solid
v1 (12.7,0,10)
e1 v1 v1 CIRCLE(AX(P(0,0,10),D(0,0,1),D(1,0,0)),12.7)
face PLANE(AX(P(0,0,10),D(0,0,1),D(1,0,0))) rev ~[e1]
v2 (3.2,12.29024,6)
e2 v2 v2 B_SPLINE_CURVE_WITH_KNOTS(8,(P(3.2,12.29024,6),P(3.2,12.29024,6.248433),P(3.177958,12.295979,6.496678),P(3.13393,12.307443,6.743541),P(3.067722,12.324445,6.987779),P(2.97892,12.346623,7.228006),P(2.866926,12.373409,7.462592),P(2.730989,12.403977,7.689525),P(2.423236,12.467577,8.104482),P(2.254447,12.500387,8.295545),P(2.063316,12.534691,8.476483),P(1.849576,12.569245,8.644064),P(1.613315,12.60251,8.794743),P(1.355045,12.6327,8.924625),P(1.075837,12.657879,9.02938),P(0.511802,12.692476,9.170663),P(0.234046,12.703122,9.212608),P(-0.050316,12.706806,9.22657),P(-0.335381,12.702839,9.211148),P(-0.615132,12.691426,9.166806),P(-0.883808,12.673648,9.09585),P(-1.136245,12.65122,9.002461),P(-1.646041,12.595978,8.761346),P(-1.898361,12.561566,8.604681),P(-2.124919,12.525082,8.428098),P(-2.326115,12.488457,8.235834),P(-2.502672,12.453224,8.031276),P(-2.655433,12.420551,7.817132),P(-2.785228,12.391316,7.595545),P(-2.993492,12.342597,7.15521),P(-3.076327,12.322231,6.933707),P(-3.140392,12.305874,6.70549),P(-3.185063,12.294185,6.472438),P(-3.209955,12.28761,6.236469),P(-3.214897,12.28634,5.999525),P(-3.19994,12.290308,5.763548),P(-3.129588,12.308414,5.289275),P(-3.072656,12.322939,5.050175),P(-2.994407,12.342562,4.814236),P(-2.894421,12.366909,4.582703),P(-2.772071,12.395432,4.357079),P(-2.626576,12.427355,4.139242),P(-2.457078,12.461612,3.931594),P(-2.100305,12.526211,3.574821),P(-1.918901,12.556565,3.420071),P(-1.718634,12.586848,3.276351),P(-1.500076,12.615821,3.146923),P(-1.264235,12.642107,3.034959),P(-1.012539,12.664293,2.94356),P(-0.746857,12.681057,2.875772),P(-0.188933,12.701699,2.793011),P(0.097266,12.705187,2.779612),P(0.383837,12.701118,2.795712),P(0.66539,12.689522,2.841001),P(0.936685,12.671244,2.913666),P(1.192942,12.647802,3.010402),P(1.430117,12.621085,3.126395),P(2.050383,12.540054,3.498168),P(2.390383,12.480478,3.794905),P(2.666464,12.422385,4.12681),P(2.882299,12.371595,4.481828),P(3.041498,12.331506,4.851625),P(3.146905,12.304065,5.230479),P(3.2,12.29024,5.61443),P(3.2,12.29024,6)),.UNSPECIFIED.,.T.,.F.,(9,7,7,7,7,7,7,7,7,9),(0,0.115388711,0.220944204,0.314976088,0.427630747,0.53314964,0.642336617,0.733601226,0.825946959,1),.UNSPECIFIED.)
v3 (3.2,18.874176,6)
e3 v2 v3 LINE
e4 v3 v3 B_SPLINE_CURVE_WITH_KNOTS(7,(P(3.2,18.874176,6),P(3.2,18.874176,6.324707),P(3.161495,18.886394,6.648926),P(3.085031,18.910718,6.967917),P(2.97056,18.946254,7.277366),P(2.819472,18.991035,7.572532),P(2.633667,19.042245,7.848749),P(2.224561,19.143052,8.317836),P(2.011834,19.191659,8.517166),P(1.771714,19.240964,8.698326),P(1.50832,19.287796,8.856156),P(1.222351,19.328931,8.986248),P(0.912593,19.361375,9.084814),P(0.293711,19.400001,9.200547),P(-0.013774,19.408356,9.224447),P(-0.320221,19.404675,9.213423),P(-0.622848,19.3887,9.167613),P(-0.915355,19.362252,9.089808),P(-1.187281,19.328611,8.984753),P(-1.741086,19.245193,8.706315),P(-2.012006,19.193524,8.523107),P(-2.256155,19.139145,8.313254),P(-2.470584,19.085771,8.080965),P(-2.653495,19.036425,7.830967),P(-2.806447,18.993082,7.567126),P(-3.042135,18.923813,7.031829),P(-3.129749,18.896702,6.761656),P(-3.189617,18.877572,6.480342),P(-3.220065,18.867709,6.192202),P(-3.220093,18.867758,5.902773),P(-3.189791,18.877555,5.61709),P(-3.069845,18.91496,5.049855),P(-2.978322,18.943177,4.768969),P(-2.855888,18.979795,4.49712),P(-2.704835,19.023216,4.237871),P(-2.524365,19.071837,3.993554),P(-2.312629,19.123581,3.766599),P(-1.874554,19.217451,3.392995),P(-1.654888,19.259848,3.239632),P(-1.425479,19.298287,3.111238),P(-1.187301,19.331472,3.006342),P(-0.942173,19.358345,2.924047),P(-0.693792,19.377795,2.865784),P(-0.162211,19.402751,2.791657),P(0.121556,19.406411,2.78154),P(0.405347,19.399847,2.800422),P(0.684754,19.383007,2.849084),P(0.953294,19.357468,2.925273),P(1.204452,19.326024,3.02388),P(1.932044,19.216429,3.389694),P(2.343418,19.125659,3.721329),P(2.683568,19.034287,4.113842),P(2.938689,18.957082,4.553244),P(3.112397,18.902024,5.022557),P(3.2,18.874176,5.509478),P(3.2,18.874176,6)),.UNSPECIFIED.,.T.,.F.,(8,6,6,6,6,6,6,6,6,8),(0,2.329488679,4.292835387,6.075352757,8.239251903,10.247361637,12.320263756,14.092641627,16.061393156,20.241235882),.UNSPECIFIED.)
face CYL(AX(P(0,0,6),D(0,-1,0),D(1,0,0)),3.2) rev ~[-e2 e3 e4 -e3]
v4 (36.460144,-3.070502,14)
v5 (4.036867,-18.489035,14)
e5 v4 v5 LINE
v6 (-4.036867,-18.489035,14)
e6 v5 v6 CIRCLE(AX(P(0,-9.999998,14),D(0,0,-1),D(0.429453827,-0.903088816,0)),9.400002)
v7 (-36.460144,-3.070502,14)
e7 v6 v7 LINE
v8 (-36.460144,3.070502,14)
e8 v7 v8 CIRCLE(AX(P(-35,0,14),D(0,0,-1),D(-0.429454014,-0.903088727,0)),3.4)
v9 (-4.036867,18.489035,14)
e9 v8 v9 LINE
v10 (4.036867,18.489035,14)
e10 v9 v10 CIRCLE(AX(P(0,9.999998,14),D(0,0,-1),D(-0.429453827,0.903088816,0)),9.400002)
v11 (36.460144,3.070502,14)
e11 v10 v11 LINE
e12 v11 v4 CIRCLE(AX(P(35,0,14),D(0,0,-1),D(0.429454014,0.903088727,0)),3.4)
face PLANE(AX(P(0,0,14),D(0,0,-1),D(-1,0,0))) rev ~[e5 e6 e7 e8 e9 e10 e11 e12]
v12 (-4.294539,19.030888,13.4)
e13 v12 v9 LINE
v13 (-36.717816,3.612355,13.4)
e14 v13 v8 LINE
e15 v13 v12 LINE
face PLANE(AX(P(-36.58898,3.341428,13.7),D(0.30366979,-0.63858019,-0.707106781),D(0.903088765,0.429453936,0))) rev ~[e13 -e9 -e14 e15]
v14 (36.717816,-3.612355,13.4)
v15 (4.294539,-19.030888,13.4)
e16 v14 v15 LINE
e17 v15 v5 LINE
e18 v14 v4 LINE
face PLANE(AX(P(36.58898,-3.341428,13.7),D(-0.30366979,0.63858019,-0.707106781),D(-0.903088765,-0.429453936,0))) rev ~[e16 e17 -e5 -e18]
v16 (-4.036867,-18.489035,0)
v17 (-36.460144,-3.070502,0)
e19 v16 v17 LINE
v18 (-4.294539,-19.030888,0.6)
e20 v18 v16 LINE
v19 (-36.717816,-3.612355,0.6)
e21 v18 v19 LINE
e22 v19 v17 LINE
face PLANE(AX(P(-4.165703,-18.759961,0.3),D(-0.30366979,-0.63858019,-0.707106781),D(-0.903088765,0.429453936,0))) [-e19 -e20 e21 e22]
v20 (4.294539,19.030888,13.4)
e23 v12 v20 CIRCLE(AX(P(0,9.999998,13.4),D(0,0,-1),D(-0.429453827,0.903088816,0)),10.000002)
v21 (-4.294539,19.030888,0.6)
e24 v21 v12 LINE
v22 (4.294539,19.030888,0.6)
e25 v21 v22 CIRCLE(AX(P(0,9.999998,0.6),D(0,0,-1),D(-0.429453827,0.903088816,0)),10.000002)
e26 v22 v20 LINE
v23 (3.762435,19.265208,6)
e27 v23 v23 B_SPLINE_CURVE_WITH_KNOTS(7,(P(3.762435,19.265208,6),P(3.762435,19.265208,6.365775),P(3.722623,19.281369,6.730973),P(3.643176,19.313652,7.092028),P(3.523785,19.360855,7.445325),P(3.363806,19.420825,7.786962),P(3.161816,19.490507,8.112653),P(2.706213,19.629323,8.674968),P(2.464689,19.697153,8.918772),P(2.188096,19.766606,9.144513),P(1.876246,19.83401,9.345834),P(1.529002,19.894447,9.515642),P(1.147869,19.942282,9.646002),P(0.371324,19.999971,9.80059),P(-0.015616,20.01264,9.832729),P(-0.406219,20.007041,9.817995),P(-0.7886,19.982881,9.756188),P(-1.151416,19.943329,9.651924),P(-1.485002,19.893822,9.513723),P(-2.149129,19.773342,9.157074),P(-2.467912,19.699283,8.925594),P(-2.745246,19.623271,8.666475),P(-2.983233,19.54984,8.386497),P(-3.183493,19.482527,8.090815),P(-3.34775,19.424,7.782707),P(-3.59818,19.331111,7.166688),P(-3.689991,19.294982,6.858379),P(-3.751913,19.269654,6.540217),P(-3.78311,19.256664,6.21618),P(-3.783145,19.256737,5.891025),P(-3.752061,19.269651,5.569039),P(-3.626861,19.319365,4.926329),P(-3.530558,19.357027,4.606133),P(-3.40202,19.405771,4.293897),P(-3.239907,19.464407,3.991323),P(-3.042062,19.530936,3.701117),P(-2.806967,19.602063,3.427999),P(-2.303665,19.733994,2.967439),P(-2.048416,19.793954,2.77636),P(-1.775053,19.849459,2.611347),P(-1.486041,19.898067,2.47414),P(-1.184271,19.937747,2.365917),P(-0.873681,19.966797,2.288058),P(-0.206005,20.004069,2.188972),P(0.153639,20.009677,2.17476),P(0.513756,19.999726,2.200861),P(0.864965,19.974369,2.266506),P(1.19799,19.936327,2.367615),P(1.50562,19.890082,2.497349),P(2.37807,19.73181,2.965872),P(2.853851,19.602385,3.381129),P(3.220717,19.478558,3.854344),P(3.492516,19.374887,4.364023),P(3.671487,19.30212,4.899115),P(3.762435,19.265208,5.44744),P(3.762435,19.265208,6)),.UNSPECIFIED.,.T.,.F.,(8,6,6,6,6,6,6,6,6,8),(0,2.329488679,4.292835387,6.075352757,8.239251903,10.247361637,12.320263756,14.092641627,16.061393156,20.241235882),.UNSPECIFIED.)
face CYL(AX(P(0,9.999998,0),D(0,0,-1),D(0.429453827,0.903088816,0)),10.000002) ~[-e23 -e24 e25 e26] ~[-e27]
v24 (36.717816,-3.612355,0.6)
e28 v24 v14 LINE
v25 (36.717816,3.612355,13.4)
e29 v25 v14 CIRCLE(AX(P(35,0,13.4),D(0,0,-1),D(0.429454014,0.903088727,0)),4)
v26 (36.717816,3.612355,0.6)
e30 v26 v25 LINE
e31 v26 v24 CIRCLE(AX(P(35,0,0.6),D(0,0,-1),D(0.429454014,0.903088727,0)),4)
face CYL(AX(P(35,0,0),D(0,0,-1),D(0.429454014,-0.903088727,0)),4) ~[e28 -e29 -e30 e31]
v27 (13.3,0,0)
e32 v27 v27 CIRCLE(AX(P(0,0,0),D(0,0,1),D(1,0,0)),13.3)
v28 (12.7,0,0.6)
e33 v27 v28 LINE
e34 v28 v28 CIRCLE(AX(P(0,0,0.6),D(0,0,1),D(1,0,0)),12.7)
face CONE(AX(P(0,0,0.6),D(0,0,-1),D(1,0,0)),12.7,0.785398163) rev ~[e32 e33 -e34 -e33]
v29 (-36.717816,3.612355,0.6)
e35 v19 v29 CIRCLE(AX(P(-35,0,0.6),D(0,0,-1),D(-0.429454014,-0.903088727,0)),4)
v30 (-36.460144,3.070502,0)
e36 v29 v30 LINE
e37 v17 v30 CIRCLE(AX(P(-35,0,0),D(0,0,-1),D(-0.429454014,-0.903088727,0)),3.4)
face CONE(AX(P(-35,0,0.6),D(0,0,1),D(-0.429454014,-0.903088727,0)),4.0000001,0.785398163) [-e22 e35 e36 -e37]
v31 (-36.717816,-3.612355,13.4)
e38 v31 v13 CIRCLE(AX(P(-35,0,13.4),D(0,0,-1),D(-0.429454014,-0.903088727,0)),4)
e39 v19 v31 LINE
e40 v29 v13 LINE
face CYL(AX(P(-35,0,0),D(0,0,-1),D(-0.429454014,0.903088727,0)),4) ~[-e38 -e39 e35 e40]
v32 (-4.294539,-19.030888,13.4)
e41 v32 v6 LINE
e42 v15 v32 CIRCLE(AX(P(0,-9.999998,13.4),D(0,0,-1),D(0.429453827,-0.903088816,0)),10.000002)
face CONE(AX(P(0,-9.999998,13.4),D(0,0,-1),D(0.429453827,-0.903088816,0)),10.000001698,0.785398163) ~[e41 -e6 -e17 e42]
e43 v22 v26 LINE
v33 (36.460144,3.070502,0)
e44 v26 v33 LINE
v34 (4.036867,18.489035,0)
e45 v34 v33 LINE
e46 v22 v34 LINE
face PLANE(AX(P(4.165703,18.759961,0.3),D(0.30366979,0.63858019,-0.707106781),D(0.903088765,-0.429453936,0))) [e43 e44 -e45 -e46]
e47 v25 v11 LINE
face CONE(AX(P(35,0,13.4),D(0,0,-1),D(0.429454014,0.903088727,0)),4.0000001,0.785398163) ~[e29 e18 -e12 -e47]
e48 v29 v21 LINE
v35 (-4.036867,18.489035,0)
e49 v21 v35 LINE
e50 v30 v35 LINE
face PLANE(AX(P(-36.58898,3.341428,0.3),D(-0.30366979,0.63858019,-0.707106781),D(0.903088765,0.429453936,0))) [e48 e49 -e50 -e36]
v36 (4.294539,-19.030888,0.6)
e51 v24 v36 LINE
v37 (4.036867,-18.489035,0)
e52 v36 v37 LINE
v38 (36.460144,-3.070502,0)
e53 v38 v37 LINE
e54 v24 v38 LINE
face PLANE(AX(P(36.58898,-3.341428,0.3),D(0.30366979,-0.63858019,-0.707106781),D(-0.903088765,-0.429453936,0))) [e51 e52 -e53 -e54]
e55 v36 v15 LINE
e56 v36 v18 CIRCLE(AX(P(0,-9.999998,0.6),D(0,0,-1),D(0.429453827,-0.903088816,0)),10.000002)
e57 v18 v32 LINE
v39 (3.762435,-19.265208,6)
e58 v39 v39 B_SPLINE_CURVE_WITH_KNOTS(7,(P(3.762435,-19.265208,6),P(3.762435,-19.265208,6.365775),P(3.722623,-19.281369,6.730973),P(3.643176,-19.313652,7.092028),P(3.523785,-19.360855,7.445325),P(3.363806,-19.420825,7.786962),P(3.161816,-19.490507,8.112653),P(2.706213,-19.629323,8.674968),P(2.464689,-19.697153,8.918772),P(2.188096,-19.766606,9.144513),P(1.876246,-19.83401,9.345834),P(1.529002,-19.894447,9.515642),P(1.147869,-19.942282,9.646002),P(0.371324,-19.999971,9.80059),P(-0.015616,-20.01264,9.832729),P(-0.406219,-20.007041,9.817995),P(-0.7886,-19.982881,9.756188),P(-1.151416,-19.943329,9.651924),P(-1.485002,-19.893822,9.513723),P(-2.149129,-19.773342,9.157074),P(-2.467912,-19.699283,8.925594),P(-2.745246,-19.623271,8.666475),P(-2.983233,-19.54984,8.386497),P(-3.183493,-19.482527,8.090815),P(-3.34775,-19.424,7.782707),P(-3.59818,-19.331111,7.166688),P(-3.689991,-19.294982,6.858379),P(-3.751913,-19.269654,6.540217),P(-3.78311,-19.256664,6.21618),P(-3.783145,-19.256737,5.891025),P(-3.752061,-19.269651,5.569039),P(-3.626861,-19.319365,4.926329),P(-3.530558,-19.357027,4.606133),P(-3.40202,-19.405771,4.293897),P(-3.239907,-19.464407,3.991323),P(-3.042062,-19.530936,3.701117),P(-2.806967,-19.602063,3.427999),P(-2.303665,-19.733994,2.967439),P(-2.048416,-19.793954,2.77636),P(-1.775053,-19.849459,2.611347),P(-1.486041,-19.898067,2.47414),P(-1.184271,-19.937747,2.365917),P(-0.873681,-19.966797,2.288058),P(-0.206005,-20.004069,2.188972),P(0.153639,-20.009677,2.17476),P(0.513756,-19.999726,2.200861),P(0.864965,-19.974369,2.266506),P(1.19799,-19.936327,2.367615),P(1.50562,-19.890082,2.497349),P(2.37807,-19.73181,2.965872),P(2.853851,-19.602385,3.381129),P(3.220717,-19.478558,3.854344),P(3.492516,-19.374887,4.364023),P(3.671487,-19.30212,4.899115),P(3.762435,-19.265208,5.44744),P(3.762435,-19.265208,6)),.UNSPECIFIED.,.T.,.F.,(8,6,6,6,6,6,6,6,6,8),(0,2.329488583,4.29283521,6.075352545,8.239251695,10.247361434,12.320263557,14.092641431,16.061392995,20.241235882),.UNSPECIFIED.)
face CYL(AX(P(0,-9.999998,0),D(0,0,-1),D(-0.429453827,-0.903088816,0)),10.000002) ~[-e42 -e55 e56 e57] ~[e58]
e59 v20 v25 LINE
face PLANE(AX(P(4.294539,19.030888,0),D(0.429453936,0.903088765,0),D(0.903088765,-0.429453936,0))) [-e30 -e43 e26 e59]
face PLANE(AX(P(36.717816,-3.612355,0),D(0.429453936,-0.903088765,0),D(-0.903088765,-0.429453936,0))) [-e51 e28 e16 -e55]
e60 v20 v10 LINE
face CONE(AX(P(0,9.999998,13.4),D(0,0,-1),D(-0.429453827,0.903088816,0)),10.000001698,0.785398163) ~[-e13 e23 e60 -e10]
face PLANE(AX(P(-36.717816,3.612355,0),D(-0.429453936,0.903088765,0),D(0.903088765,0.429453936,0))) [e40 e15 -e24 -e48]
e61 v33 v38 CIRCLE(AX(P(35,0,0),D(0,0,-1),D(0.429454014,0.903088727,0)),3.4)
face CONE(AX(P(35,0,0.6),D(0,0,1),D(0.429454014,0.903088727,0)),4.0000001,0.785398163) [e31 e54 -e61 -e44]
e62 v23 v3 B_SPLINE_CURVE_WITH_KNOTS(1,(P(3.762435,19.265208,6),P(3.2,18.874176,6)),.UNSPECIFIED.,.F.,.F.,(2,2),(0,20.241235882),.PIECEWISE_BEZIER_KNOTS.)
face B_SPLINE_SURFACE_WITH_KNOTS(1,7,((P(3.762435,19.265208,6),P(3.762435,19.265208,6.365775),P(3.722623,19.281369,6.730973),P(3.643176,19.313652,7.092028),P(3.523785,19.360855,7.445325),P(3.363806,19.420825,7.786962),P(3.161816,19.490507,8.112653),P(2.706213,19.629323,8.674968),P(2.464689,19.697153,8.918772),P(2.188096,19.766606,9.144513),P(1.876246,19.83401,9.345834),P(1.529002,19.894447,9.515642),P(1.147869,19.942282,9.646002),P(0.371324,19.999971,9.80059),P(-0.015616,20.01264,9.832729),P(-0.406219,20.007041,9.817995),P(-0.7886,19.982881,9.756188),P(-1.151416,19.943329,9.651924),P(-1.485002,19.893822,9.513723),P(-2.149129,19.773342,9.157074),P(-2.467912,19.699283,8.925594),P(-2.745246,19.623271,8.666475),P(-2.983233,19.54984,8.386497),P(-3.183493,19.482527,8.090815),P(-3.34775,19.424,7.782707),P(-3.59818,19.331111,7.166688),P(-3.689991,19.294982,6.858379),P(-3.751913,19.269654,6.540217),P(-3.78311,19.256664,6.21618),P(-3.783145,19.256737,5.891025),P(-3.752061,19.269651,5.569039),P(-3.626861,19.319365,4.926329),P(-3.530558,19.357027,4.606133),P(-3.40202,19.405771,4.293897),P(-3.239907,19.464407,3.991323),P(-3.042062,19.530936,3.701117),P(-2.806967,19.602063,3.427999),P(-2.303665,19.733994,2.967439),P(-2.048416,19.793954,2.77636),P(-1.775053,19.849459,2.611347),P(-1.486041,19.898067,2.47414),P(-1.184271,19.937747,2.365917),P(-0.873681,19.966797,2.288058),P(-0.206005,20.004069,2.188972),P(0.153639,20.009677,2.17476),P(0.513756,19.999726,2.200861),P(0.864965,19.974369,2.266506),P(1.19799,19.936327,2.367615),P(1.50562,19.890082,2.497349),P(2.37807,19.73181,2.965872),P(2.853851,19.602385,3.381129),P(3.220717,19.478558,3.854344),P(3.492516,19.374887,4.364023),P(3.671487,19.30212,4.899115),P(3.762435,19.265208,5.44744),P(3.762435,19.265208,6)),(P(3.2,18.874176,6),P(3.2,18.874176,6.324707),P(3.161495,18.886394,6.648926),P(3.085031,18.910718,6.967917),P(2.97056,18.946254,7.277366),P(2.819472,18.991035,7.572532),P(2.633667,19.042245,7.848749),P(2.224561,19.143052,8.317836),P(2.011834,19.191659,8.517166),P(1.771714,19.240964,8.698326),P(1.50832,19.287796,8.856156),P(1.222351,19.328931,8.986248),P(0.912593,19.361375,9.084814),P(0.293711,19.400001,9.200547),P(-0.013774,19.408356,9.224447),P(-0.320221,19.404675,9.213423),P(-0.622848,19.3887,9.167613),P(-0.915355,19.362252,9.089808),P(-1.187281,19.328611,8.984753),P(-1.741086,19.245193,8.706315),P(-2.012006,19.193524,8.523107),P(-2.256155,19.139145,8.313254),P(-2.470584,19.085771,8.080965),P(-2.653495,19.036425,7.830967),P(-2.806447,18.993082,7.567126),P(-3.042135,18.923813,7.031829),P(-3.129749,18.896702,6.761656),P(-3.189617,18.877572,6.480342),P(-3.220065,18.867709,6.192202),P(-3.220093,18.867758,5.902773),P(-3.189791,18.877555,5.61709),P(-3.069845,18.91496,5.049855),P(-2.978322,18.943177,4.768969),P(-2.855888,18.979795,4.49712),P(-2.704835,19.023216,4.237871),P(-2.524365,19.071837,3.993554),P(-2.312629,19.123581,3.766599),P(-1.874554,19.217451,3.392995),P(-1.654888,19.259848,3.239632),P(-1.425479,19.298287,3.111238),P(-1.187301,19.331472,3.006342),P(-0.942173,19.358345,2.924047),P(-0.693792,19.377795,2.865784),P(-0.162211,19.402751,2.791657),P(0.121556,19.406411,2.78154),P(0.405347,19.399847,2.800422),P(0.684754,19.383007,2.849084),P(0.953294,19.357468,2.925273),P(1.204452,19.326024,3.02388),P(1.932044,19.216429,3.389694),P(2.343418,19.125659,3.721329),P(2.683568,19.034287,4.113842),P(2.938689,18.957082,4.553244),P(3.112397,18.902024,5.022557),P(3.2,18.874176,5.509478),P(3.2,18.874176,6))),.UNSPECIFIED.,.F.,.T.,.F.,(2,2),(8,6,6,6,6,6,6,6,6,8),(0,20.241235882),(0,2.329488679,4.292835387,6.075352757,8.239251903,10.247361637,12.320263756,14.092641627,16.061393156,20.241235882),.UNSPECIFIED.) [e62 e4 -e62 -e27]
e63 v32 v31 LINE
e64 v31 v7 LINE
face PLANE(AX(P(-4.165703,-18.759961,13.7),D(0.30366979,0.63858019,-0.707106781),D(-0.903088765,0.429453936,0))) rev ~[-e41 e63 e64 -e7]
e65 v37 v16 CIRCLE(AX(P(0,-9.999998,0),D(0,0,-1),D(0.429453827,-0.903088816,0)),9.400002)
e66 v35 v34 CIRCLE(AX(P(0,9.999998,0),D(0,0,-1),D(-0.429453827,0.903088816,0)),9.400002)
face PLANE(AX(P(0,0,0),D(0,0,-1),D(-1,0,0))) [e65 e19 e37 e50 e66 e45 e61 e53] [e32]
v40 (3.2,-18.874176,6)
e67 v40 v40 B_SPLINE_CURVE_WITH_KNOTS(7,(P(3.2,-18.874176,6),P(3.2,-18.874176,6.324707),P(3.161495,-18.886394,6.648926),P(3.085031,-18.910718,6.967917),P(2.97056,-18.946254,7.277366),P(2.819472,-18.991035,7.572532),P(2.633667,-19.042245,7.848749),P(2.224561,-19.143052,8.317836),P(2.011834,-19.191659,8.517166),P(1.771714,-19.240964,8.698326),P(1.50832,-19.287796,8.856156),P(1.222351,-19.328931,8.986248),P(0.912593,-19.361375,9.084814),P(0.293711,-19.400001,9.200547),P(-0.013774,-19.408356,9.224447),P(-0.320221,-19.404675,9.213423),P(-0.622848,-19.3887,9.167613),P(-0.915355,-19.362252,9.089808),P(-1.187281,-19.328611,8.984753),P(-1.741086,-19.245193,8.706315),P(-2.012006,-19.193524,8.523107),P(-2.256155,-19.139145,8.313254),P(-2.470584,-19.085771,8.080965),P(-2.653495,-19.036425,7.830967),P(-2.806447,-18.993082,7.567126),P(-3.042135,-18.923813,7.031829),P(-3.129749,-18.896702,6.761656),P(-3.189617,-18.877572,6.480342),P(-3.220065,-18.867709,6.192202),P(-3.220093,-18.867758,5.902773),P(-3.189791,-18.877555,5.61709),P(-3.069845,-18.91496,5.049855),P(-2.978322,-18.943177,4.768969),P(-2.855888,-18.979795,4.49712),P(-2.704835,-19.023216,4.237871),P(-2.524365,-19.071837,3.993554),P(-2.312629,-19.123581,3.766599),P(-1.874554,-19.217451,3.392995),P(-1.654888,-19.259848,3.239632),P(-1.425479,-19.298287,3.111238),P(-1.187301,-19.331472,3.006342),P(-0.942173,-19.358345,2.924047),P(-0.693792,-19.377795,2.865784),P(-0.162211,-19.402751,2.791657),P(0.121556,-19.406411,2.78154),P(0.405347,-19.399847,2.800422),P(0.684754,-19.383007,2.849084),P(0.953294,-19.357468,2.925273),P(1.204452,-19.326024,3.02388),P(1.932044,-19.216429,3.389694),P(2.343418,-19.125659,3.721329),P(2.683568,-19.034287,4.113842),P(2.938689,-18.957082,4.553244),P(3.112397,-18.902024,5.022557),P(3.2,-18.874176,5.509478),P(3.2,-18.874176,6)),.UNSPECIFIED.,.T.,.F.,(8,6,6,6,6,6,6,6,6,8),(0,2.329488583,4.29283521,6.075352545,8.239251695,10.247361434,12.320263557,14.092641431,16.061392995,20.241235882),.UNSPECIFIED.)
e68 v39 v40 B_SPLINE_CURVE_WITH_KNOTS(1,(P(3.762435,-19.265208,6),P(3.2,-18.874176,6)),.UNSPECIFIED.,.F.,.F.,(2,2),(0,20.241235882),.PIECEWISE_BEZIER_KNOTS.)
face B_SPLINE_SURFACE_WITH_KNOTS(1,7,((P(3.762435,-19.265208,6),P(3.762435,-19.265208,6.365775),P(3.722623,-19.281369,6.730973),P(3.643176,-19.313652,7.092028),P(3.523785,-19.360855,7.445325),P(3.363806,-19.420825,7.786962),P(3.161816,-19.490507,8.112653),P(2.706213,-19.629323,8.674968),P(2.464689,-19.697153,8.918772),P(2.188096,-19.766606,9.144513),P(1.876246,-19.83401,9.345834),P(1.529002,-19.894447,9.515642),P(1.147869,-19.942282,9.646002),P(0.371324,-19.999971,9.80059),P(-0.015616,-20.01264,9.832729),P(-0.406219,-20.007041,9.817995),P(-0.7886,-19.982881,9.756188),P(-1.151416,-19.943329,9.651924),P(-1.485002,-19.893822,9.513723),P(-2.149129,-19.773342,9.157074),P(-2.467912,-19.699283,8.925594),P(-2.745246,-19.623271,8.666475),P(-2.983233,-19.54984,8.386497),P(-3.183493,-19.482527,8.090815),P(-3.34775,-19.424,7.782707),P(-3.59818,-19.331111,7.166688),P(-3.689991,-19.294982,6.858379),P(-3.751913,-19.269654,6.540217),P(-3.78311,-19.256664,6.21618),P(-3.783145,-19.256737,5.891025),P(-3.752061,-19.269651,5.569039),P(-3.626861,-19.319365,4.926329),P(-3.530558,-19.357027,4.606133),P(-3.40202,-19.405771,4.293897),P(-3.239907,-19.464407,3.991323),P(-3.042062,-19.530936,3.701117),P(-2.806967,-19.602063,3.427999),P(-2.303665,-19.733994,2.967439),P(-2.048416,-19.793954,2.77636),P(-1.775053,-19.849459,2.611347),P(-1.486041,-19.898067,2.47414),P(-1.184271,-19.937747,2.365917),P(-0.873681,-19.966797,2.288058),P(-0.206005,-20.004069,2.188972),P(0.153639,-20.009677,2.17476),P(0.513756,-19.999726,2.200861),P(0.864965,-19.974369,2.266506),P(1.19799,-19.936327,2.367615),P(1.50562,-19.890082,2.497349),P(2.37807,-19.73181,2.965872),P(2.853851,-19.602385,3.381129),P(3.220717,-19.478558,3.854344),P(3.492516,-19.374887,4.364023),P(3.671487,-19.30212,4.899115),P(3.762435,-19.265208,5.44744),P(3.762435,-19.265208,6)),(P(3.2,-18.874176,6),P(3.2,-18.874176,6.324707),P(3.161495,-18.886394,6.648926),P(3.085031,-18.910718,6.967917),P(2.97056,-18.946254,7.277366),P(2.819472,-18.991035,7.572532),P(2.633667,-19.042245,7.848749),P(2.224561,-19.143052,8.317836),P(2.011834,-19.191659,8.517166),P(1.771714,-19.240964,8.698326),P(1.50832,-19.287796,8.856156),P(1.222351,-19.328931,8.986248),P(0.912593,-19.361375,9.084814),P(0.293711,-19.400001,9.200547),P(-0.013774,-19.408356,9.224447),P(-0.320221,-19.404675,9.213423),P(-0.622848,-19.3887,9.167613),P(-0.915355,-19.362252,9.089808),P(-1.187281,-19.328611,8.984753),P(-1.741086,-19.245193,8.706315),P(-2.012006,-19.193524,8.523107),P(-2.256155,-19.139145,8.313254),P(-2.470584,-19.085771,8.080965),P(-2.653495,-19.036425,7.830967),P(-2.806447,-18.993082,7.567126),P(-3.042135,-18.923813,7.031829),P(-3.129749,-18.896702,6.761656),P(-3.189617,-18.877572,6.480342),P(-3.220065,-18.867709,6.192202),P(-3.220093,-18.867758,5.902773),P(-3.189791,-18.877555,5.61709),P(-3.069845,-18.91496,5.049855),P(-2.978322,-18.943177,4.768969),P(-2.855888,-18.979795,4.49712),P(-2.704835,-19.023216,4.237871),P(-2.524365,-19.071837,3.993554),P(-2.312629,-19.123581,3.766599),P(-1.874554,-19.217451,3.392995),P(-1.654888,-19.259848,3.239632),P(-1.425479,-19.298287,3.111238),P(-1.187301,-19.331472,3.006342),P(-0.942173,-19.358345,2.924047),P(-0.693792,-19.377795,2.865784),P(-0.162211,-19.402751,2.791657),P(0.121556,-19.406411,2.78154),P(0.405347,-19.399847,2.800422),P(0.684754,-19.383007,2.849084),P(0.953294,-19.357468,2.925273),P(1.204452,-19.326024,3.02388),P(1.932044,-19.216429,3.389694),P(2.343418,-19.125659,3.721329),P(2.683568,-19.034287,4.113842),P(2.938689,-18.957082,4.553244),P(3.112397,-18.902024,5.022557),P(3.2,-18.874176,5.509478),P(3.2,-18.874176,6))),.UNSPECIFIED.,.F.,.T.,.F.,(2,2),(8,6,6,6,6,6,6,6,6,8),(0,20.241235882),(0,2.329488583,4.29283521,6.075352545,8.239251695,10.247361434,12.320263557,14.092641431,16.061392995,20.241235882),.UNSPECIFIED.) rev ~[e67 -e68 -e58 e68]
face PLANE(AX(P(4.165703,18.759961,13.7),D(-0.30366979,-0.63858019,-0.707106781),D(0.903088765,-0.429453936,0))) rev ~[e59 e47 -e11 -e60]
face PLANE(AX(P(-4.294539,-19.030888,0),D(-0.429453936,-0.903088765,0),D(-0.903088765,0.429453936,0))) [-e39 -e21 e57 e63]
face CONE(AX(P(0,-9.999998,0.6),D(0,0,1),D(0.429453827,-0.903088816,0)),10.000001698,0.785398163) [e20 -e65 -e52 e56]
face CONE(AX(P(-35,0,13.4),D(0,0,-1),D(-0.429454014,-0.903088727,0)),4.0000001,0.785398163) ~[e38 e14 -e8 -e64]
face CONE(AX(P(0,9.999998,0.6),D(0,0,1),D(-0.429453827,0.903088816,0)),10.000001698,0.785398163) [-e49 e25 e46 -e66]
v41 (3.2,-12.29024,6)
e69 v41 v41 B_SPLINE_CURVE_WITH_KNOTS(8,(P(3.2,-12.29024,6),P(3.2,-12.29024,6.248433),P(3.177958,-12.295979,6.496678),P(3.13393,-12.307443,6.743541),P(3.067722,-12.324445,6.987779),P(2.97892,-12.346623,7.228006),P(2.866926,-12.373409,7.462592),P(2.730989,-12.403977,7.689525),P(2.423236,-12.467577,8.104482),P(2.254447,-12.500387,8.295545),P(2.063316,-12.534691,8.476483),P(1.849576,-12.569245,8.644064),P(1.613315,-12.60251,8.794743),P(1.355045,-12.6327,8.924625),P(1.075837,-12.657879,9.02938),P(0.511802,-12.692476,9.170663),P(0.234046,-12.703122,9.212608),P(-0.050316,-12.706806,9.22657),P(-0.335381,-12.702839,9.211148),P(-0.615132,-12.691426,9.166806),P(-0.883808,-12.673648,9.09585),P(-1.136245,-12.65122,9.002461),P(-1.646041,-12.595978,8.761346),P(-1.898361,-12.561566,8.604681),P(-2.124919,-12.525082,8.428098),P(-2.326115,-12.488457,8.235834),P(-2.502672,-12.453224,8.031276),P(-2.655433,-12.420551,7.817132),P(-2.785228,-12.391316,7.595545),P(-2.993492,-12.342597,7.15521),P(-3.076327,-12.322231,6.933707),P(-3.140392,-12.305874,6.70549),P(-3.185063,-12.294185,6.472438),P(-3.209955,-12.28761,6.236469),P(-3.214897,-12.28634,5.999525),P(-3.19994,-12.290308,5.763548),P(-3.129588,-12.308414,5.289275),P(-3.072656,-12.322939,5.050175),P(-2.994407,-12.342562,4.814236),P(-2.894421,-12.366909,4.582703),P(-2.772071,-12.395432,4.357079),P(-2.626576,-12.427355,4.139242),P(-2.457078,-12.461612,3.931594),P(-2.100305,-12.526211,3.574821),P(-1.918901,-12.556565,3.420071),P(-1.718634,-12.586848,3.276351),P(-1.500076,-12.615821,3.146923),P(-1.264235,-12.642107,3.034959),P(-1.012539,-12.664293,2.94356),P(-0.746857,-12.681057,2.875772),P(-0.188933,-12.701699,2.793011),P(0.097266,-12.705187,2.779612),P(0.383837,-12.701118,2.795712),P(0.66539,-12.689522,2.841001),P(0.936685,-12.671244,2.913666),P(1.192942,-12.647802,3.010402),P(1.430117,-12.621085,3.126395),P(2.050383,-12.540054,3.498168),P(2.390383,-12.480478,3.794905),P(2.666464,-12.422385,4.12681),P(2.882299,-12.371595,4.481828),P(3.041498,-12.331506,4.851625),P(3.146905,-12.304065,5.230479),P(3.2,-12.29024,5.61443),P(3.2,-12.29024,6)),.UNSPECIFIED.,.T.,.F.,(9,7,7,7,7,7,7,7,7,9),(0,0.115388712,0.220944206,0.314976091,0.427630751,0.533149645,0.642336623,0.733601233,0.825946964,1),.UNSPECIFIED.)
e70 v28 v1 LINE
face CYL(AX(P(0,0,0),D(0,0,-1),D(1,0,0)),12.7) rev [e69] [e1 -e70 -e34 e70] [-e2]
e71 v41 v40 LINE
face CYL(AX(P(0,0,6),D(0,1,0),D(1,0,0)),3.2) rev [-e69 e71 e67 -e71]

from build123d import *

# Parameters (mm, degrees)
PAD_DEPTH            = 14
SKETCH001_R          = 12.7
POCKET_DEPTH         = 10
SKETCH002_R          = 3.2
POCKET001_DEPTH      = 20.001
POCKET001_DEPTH_BACK = -20.001
CHAMFER_SIZE         = 0.6


with BuildPart() as part:
    # Sketch → Pad (new body)
    with BuildSketch(Plane.XY):
        with BuildLine():
            Line((-36.717816, 3.612355), (-4.294539, 19.030888))
            ThreePointArc((4.294539, 19.030888), (0, 20), (-4.294539, 19.030888))
            Line((4.294539, 19.030888), (36.717816, 3.612355))
            ThreePointArc((36.717816, -3.612355), (39, 0), (36.717816, 3.612355))
            Line((36.717816, -3.612355), (4.294539, -19.030888))
            ThreePointArc((-4.294539, -19.030888), (0, -20), (4.294539, -19.030888))
            Line((-4.294539, -19.030888), (-36.717816, -3.612355))
            ThreePointArc((-36.717816, 3.612355), (-39, 0), (-36.717816, -3.612355))
        make_face()
    extrude(amount=PAD_DEPTH)

    # Sketch001 → Pocket (cut)
    with BuildSketch(Plane.XY):
        Circle(SKETCH001_R)
    extrude(amount=POCKET_DEPTH, mode=Mode.SUBTRACT)

    # Sketch002 → Pocket001 (cut, two sides)
    with BuildSketch(Plane(origin=(0, 0, -1), x_dir=(1, 0, 0), z_dir=(0, -1, 0))) as pocket001_sk:
        with Locations((0, 7)):
            Circle(SKETCH002_R)
    extrude(amount=-POCKET001_DEPTH, mode=Mode.SUBTRACT)
    extrude(pocket001_sk.sketch, amount=-POCKET001_DEPTH_BACK, mode=Mode.SUBTRACT)

    # Chamfer
    chamfer_edges = [part.edges().sort_by_distance(p)[0] for p in [
        (-20.506178, 11.321621, 0),
        (-39, 0, 0),
        (0, 20, 0),
        (-20.506178, -11.321621, 0),
        (20.506178, 11.321621, 0),
        (0, -20, 0),
        (39, 0, 0),
        (20.506178, -11.321621, 0),
        (-12.7, 0, 0),
        (-20.506178, 11.321621, 14),
        (0, 20, 14),
        (20.506178, 11.321621, 14),
        (39, 0, 14),
        (20.506178, -11.321621, 14),
        (0, -20, 14),
        (-20.506178, -11.321621, 14),
        (-39, 0, 14),
        (-3.2, -19.474175, 6),
        (-3.2, 19.474175, 6),
    ]]
    chamfer(chamfer_edges, length=CHAMFER_SIZE)


solid = part.part
